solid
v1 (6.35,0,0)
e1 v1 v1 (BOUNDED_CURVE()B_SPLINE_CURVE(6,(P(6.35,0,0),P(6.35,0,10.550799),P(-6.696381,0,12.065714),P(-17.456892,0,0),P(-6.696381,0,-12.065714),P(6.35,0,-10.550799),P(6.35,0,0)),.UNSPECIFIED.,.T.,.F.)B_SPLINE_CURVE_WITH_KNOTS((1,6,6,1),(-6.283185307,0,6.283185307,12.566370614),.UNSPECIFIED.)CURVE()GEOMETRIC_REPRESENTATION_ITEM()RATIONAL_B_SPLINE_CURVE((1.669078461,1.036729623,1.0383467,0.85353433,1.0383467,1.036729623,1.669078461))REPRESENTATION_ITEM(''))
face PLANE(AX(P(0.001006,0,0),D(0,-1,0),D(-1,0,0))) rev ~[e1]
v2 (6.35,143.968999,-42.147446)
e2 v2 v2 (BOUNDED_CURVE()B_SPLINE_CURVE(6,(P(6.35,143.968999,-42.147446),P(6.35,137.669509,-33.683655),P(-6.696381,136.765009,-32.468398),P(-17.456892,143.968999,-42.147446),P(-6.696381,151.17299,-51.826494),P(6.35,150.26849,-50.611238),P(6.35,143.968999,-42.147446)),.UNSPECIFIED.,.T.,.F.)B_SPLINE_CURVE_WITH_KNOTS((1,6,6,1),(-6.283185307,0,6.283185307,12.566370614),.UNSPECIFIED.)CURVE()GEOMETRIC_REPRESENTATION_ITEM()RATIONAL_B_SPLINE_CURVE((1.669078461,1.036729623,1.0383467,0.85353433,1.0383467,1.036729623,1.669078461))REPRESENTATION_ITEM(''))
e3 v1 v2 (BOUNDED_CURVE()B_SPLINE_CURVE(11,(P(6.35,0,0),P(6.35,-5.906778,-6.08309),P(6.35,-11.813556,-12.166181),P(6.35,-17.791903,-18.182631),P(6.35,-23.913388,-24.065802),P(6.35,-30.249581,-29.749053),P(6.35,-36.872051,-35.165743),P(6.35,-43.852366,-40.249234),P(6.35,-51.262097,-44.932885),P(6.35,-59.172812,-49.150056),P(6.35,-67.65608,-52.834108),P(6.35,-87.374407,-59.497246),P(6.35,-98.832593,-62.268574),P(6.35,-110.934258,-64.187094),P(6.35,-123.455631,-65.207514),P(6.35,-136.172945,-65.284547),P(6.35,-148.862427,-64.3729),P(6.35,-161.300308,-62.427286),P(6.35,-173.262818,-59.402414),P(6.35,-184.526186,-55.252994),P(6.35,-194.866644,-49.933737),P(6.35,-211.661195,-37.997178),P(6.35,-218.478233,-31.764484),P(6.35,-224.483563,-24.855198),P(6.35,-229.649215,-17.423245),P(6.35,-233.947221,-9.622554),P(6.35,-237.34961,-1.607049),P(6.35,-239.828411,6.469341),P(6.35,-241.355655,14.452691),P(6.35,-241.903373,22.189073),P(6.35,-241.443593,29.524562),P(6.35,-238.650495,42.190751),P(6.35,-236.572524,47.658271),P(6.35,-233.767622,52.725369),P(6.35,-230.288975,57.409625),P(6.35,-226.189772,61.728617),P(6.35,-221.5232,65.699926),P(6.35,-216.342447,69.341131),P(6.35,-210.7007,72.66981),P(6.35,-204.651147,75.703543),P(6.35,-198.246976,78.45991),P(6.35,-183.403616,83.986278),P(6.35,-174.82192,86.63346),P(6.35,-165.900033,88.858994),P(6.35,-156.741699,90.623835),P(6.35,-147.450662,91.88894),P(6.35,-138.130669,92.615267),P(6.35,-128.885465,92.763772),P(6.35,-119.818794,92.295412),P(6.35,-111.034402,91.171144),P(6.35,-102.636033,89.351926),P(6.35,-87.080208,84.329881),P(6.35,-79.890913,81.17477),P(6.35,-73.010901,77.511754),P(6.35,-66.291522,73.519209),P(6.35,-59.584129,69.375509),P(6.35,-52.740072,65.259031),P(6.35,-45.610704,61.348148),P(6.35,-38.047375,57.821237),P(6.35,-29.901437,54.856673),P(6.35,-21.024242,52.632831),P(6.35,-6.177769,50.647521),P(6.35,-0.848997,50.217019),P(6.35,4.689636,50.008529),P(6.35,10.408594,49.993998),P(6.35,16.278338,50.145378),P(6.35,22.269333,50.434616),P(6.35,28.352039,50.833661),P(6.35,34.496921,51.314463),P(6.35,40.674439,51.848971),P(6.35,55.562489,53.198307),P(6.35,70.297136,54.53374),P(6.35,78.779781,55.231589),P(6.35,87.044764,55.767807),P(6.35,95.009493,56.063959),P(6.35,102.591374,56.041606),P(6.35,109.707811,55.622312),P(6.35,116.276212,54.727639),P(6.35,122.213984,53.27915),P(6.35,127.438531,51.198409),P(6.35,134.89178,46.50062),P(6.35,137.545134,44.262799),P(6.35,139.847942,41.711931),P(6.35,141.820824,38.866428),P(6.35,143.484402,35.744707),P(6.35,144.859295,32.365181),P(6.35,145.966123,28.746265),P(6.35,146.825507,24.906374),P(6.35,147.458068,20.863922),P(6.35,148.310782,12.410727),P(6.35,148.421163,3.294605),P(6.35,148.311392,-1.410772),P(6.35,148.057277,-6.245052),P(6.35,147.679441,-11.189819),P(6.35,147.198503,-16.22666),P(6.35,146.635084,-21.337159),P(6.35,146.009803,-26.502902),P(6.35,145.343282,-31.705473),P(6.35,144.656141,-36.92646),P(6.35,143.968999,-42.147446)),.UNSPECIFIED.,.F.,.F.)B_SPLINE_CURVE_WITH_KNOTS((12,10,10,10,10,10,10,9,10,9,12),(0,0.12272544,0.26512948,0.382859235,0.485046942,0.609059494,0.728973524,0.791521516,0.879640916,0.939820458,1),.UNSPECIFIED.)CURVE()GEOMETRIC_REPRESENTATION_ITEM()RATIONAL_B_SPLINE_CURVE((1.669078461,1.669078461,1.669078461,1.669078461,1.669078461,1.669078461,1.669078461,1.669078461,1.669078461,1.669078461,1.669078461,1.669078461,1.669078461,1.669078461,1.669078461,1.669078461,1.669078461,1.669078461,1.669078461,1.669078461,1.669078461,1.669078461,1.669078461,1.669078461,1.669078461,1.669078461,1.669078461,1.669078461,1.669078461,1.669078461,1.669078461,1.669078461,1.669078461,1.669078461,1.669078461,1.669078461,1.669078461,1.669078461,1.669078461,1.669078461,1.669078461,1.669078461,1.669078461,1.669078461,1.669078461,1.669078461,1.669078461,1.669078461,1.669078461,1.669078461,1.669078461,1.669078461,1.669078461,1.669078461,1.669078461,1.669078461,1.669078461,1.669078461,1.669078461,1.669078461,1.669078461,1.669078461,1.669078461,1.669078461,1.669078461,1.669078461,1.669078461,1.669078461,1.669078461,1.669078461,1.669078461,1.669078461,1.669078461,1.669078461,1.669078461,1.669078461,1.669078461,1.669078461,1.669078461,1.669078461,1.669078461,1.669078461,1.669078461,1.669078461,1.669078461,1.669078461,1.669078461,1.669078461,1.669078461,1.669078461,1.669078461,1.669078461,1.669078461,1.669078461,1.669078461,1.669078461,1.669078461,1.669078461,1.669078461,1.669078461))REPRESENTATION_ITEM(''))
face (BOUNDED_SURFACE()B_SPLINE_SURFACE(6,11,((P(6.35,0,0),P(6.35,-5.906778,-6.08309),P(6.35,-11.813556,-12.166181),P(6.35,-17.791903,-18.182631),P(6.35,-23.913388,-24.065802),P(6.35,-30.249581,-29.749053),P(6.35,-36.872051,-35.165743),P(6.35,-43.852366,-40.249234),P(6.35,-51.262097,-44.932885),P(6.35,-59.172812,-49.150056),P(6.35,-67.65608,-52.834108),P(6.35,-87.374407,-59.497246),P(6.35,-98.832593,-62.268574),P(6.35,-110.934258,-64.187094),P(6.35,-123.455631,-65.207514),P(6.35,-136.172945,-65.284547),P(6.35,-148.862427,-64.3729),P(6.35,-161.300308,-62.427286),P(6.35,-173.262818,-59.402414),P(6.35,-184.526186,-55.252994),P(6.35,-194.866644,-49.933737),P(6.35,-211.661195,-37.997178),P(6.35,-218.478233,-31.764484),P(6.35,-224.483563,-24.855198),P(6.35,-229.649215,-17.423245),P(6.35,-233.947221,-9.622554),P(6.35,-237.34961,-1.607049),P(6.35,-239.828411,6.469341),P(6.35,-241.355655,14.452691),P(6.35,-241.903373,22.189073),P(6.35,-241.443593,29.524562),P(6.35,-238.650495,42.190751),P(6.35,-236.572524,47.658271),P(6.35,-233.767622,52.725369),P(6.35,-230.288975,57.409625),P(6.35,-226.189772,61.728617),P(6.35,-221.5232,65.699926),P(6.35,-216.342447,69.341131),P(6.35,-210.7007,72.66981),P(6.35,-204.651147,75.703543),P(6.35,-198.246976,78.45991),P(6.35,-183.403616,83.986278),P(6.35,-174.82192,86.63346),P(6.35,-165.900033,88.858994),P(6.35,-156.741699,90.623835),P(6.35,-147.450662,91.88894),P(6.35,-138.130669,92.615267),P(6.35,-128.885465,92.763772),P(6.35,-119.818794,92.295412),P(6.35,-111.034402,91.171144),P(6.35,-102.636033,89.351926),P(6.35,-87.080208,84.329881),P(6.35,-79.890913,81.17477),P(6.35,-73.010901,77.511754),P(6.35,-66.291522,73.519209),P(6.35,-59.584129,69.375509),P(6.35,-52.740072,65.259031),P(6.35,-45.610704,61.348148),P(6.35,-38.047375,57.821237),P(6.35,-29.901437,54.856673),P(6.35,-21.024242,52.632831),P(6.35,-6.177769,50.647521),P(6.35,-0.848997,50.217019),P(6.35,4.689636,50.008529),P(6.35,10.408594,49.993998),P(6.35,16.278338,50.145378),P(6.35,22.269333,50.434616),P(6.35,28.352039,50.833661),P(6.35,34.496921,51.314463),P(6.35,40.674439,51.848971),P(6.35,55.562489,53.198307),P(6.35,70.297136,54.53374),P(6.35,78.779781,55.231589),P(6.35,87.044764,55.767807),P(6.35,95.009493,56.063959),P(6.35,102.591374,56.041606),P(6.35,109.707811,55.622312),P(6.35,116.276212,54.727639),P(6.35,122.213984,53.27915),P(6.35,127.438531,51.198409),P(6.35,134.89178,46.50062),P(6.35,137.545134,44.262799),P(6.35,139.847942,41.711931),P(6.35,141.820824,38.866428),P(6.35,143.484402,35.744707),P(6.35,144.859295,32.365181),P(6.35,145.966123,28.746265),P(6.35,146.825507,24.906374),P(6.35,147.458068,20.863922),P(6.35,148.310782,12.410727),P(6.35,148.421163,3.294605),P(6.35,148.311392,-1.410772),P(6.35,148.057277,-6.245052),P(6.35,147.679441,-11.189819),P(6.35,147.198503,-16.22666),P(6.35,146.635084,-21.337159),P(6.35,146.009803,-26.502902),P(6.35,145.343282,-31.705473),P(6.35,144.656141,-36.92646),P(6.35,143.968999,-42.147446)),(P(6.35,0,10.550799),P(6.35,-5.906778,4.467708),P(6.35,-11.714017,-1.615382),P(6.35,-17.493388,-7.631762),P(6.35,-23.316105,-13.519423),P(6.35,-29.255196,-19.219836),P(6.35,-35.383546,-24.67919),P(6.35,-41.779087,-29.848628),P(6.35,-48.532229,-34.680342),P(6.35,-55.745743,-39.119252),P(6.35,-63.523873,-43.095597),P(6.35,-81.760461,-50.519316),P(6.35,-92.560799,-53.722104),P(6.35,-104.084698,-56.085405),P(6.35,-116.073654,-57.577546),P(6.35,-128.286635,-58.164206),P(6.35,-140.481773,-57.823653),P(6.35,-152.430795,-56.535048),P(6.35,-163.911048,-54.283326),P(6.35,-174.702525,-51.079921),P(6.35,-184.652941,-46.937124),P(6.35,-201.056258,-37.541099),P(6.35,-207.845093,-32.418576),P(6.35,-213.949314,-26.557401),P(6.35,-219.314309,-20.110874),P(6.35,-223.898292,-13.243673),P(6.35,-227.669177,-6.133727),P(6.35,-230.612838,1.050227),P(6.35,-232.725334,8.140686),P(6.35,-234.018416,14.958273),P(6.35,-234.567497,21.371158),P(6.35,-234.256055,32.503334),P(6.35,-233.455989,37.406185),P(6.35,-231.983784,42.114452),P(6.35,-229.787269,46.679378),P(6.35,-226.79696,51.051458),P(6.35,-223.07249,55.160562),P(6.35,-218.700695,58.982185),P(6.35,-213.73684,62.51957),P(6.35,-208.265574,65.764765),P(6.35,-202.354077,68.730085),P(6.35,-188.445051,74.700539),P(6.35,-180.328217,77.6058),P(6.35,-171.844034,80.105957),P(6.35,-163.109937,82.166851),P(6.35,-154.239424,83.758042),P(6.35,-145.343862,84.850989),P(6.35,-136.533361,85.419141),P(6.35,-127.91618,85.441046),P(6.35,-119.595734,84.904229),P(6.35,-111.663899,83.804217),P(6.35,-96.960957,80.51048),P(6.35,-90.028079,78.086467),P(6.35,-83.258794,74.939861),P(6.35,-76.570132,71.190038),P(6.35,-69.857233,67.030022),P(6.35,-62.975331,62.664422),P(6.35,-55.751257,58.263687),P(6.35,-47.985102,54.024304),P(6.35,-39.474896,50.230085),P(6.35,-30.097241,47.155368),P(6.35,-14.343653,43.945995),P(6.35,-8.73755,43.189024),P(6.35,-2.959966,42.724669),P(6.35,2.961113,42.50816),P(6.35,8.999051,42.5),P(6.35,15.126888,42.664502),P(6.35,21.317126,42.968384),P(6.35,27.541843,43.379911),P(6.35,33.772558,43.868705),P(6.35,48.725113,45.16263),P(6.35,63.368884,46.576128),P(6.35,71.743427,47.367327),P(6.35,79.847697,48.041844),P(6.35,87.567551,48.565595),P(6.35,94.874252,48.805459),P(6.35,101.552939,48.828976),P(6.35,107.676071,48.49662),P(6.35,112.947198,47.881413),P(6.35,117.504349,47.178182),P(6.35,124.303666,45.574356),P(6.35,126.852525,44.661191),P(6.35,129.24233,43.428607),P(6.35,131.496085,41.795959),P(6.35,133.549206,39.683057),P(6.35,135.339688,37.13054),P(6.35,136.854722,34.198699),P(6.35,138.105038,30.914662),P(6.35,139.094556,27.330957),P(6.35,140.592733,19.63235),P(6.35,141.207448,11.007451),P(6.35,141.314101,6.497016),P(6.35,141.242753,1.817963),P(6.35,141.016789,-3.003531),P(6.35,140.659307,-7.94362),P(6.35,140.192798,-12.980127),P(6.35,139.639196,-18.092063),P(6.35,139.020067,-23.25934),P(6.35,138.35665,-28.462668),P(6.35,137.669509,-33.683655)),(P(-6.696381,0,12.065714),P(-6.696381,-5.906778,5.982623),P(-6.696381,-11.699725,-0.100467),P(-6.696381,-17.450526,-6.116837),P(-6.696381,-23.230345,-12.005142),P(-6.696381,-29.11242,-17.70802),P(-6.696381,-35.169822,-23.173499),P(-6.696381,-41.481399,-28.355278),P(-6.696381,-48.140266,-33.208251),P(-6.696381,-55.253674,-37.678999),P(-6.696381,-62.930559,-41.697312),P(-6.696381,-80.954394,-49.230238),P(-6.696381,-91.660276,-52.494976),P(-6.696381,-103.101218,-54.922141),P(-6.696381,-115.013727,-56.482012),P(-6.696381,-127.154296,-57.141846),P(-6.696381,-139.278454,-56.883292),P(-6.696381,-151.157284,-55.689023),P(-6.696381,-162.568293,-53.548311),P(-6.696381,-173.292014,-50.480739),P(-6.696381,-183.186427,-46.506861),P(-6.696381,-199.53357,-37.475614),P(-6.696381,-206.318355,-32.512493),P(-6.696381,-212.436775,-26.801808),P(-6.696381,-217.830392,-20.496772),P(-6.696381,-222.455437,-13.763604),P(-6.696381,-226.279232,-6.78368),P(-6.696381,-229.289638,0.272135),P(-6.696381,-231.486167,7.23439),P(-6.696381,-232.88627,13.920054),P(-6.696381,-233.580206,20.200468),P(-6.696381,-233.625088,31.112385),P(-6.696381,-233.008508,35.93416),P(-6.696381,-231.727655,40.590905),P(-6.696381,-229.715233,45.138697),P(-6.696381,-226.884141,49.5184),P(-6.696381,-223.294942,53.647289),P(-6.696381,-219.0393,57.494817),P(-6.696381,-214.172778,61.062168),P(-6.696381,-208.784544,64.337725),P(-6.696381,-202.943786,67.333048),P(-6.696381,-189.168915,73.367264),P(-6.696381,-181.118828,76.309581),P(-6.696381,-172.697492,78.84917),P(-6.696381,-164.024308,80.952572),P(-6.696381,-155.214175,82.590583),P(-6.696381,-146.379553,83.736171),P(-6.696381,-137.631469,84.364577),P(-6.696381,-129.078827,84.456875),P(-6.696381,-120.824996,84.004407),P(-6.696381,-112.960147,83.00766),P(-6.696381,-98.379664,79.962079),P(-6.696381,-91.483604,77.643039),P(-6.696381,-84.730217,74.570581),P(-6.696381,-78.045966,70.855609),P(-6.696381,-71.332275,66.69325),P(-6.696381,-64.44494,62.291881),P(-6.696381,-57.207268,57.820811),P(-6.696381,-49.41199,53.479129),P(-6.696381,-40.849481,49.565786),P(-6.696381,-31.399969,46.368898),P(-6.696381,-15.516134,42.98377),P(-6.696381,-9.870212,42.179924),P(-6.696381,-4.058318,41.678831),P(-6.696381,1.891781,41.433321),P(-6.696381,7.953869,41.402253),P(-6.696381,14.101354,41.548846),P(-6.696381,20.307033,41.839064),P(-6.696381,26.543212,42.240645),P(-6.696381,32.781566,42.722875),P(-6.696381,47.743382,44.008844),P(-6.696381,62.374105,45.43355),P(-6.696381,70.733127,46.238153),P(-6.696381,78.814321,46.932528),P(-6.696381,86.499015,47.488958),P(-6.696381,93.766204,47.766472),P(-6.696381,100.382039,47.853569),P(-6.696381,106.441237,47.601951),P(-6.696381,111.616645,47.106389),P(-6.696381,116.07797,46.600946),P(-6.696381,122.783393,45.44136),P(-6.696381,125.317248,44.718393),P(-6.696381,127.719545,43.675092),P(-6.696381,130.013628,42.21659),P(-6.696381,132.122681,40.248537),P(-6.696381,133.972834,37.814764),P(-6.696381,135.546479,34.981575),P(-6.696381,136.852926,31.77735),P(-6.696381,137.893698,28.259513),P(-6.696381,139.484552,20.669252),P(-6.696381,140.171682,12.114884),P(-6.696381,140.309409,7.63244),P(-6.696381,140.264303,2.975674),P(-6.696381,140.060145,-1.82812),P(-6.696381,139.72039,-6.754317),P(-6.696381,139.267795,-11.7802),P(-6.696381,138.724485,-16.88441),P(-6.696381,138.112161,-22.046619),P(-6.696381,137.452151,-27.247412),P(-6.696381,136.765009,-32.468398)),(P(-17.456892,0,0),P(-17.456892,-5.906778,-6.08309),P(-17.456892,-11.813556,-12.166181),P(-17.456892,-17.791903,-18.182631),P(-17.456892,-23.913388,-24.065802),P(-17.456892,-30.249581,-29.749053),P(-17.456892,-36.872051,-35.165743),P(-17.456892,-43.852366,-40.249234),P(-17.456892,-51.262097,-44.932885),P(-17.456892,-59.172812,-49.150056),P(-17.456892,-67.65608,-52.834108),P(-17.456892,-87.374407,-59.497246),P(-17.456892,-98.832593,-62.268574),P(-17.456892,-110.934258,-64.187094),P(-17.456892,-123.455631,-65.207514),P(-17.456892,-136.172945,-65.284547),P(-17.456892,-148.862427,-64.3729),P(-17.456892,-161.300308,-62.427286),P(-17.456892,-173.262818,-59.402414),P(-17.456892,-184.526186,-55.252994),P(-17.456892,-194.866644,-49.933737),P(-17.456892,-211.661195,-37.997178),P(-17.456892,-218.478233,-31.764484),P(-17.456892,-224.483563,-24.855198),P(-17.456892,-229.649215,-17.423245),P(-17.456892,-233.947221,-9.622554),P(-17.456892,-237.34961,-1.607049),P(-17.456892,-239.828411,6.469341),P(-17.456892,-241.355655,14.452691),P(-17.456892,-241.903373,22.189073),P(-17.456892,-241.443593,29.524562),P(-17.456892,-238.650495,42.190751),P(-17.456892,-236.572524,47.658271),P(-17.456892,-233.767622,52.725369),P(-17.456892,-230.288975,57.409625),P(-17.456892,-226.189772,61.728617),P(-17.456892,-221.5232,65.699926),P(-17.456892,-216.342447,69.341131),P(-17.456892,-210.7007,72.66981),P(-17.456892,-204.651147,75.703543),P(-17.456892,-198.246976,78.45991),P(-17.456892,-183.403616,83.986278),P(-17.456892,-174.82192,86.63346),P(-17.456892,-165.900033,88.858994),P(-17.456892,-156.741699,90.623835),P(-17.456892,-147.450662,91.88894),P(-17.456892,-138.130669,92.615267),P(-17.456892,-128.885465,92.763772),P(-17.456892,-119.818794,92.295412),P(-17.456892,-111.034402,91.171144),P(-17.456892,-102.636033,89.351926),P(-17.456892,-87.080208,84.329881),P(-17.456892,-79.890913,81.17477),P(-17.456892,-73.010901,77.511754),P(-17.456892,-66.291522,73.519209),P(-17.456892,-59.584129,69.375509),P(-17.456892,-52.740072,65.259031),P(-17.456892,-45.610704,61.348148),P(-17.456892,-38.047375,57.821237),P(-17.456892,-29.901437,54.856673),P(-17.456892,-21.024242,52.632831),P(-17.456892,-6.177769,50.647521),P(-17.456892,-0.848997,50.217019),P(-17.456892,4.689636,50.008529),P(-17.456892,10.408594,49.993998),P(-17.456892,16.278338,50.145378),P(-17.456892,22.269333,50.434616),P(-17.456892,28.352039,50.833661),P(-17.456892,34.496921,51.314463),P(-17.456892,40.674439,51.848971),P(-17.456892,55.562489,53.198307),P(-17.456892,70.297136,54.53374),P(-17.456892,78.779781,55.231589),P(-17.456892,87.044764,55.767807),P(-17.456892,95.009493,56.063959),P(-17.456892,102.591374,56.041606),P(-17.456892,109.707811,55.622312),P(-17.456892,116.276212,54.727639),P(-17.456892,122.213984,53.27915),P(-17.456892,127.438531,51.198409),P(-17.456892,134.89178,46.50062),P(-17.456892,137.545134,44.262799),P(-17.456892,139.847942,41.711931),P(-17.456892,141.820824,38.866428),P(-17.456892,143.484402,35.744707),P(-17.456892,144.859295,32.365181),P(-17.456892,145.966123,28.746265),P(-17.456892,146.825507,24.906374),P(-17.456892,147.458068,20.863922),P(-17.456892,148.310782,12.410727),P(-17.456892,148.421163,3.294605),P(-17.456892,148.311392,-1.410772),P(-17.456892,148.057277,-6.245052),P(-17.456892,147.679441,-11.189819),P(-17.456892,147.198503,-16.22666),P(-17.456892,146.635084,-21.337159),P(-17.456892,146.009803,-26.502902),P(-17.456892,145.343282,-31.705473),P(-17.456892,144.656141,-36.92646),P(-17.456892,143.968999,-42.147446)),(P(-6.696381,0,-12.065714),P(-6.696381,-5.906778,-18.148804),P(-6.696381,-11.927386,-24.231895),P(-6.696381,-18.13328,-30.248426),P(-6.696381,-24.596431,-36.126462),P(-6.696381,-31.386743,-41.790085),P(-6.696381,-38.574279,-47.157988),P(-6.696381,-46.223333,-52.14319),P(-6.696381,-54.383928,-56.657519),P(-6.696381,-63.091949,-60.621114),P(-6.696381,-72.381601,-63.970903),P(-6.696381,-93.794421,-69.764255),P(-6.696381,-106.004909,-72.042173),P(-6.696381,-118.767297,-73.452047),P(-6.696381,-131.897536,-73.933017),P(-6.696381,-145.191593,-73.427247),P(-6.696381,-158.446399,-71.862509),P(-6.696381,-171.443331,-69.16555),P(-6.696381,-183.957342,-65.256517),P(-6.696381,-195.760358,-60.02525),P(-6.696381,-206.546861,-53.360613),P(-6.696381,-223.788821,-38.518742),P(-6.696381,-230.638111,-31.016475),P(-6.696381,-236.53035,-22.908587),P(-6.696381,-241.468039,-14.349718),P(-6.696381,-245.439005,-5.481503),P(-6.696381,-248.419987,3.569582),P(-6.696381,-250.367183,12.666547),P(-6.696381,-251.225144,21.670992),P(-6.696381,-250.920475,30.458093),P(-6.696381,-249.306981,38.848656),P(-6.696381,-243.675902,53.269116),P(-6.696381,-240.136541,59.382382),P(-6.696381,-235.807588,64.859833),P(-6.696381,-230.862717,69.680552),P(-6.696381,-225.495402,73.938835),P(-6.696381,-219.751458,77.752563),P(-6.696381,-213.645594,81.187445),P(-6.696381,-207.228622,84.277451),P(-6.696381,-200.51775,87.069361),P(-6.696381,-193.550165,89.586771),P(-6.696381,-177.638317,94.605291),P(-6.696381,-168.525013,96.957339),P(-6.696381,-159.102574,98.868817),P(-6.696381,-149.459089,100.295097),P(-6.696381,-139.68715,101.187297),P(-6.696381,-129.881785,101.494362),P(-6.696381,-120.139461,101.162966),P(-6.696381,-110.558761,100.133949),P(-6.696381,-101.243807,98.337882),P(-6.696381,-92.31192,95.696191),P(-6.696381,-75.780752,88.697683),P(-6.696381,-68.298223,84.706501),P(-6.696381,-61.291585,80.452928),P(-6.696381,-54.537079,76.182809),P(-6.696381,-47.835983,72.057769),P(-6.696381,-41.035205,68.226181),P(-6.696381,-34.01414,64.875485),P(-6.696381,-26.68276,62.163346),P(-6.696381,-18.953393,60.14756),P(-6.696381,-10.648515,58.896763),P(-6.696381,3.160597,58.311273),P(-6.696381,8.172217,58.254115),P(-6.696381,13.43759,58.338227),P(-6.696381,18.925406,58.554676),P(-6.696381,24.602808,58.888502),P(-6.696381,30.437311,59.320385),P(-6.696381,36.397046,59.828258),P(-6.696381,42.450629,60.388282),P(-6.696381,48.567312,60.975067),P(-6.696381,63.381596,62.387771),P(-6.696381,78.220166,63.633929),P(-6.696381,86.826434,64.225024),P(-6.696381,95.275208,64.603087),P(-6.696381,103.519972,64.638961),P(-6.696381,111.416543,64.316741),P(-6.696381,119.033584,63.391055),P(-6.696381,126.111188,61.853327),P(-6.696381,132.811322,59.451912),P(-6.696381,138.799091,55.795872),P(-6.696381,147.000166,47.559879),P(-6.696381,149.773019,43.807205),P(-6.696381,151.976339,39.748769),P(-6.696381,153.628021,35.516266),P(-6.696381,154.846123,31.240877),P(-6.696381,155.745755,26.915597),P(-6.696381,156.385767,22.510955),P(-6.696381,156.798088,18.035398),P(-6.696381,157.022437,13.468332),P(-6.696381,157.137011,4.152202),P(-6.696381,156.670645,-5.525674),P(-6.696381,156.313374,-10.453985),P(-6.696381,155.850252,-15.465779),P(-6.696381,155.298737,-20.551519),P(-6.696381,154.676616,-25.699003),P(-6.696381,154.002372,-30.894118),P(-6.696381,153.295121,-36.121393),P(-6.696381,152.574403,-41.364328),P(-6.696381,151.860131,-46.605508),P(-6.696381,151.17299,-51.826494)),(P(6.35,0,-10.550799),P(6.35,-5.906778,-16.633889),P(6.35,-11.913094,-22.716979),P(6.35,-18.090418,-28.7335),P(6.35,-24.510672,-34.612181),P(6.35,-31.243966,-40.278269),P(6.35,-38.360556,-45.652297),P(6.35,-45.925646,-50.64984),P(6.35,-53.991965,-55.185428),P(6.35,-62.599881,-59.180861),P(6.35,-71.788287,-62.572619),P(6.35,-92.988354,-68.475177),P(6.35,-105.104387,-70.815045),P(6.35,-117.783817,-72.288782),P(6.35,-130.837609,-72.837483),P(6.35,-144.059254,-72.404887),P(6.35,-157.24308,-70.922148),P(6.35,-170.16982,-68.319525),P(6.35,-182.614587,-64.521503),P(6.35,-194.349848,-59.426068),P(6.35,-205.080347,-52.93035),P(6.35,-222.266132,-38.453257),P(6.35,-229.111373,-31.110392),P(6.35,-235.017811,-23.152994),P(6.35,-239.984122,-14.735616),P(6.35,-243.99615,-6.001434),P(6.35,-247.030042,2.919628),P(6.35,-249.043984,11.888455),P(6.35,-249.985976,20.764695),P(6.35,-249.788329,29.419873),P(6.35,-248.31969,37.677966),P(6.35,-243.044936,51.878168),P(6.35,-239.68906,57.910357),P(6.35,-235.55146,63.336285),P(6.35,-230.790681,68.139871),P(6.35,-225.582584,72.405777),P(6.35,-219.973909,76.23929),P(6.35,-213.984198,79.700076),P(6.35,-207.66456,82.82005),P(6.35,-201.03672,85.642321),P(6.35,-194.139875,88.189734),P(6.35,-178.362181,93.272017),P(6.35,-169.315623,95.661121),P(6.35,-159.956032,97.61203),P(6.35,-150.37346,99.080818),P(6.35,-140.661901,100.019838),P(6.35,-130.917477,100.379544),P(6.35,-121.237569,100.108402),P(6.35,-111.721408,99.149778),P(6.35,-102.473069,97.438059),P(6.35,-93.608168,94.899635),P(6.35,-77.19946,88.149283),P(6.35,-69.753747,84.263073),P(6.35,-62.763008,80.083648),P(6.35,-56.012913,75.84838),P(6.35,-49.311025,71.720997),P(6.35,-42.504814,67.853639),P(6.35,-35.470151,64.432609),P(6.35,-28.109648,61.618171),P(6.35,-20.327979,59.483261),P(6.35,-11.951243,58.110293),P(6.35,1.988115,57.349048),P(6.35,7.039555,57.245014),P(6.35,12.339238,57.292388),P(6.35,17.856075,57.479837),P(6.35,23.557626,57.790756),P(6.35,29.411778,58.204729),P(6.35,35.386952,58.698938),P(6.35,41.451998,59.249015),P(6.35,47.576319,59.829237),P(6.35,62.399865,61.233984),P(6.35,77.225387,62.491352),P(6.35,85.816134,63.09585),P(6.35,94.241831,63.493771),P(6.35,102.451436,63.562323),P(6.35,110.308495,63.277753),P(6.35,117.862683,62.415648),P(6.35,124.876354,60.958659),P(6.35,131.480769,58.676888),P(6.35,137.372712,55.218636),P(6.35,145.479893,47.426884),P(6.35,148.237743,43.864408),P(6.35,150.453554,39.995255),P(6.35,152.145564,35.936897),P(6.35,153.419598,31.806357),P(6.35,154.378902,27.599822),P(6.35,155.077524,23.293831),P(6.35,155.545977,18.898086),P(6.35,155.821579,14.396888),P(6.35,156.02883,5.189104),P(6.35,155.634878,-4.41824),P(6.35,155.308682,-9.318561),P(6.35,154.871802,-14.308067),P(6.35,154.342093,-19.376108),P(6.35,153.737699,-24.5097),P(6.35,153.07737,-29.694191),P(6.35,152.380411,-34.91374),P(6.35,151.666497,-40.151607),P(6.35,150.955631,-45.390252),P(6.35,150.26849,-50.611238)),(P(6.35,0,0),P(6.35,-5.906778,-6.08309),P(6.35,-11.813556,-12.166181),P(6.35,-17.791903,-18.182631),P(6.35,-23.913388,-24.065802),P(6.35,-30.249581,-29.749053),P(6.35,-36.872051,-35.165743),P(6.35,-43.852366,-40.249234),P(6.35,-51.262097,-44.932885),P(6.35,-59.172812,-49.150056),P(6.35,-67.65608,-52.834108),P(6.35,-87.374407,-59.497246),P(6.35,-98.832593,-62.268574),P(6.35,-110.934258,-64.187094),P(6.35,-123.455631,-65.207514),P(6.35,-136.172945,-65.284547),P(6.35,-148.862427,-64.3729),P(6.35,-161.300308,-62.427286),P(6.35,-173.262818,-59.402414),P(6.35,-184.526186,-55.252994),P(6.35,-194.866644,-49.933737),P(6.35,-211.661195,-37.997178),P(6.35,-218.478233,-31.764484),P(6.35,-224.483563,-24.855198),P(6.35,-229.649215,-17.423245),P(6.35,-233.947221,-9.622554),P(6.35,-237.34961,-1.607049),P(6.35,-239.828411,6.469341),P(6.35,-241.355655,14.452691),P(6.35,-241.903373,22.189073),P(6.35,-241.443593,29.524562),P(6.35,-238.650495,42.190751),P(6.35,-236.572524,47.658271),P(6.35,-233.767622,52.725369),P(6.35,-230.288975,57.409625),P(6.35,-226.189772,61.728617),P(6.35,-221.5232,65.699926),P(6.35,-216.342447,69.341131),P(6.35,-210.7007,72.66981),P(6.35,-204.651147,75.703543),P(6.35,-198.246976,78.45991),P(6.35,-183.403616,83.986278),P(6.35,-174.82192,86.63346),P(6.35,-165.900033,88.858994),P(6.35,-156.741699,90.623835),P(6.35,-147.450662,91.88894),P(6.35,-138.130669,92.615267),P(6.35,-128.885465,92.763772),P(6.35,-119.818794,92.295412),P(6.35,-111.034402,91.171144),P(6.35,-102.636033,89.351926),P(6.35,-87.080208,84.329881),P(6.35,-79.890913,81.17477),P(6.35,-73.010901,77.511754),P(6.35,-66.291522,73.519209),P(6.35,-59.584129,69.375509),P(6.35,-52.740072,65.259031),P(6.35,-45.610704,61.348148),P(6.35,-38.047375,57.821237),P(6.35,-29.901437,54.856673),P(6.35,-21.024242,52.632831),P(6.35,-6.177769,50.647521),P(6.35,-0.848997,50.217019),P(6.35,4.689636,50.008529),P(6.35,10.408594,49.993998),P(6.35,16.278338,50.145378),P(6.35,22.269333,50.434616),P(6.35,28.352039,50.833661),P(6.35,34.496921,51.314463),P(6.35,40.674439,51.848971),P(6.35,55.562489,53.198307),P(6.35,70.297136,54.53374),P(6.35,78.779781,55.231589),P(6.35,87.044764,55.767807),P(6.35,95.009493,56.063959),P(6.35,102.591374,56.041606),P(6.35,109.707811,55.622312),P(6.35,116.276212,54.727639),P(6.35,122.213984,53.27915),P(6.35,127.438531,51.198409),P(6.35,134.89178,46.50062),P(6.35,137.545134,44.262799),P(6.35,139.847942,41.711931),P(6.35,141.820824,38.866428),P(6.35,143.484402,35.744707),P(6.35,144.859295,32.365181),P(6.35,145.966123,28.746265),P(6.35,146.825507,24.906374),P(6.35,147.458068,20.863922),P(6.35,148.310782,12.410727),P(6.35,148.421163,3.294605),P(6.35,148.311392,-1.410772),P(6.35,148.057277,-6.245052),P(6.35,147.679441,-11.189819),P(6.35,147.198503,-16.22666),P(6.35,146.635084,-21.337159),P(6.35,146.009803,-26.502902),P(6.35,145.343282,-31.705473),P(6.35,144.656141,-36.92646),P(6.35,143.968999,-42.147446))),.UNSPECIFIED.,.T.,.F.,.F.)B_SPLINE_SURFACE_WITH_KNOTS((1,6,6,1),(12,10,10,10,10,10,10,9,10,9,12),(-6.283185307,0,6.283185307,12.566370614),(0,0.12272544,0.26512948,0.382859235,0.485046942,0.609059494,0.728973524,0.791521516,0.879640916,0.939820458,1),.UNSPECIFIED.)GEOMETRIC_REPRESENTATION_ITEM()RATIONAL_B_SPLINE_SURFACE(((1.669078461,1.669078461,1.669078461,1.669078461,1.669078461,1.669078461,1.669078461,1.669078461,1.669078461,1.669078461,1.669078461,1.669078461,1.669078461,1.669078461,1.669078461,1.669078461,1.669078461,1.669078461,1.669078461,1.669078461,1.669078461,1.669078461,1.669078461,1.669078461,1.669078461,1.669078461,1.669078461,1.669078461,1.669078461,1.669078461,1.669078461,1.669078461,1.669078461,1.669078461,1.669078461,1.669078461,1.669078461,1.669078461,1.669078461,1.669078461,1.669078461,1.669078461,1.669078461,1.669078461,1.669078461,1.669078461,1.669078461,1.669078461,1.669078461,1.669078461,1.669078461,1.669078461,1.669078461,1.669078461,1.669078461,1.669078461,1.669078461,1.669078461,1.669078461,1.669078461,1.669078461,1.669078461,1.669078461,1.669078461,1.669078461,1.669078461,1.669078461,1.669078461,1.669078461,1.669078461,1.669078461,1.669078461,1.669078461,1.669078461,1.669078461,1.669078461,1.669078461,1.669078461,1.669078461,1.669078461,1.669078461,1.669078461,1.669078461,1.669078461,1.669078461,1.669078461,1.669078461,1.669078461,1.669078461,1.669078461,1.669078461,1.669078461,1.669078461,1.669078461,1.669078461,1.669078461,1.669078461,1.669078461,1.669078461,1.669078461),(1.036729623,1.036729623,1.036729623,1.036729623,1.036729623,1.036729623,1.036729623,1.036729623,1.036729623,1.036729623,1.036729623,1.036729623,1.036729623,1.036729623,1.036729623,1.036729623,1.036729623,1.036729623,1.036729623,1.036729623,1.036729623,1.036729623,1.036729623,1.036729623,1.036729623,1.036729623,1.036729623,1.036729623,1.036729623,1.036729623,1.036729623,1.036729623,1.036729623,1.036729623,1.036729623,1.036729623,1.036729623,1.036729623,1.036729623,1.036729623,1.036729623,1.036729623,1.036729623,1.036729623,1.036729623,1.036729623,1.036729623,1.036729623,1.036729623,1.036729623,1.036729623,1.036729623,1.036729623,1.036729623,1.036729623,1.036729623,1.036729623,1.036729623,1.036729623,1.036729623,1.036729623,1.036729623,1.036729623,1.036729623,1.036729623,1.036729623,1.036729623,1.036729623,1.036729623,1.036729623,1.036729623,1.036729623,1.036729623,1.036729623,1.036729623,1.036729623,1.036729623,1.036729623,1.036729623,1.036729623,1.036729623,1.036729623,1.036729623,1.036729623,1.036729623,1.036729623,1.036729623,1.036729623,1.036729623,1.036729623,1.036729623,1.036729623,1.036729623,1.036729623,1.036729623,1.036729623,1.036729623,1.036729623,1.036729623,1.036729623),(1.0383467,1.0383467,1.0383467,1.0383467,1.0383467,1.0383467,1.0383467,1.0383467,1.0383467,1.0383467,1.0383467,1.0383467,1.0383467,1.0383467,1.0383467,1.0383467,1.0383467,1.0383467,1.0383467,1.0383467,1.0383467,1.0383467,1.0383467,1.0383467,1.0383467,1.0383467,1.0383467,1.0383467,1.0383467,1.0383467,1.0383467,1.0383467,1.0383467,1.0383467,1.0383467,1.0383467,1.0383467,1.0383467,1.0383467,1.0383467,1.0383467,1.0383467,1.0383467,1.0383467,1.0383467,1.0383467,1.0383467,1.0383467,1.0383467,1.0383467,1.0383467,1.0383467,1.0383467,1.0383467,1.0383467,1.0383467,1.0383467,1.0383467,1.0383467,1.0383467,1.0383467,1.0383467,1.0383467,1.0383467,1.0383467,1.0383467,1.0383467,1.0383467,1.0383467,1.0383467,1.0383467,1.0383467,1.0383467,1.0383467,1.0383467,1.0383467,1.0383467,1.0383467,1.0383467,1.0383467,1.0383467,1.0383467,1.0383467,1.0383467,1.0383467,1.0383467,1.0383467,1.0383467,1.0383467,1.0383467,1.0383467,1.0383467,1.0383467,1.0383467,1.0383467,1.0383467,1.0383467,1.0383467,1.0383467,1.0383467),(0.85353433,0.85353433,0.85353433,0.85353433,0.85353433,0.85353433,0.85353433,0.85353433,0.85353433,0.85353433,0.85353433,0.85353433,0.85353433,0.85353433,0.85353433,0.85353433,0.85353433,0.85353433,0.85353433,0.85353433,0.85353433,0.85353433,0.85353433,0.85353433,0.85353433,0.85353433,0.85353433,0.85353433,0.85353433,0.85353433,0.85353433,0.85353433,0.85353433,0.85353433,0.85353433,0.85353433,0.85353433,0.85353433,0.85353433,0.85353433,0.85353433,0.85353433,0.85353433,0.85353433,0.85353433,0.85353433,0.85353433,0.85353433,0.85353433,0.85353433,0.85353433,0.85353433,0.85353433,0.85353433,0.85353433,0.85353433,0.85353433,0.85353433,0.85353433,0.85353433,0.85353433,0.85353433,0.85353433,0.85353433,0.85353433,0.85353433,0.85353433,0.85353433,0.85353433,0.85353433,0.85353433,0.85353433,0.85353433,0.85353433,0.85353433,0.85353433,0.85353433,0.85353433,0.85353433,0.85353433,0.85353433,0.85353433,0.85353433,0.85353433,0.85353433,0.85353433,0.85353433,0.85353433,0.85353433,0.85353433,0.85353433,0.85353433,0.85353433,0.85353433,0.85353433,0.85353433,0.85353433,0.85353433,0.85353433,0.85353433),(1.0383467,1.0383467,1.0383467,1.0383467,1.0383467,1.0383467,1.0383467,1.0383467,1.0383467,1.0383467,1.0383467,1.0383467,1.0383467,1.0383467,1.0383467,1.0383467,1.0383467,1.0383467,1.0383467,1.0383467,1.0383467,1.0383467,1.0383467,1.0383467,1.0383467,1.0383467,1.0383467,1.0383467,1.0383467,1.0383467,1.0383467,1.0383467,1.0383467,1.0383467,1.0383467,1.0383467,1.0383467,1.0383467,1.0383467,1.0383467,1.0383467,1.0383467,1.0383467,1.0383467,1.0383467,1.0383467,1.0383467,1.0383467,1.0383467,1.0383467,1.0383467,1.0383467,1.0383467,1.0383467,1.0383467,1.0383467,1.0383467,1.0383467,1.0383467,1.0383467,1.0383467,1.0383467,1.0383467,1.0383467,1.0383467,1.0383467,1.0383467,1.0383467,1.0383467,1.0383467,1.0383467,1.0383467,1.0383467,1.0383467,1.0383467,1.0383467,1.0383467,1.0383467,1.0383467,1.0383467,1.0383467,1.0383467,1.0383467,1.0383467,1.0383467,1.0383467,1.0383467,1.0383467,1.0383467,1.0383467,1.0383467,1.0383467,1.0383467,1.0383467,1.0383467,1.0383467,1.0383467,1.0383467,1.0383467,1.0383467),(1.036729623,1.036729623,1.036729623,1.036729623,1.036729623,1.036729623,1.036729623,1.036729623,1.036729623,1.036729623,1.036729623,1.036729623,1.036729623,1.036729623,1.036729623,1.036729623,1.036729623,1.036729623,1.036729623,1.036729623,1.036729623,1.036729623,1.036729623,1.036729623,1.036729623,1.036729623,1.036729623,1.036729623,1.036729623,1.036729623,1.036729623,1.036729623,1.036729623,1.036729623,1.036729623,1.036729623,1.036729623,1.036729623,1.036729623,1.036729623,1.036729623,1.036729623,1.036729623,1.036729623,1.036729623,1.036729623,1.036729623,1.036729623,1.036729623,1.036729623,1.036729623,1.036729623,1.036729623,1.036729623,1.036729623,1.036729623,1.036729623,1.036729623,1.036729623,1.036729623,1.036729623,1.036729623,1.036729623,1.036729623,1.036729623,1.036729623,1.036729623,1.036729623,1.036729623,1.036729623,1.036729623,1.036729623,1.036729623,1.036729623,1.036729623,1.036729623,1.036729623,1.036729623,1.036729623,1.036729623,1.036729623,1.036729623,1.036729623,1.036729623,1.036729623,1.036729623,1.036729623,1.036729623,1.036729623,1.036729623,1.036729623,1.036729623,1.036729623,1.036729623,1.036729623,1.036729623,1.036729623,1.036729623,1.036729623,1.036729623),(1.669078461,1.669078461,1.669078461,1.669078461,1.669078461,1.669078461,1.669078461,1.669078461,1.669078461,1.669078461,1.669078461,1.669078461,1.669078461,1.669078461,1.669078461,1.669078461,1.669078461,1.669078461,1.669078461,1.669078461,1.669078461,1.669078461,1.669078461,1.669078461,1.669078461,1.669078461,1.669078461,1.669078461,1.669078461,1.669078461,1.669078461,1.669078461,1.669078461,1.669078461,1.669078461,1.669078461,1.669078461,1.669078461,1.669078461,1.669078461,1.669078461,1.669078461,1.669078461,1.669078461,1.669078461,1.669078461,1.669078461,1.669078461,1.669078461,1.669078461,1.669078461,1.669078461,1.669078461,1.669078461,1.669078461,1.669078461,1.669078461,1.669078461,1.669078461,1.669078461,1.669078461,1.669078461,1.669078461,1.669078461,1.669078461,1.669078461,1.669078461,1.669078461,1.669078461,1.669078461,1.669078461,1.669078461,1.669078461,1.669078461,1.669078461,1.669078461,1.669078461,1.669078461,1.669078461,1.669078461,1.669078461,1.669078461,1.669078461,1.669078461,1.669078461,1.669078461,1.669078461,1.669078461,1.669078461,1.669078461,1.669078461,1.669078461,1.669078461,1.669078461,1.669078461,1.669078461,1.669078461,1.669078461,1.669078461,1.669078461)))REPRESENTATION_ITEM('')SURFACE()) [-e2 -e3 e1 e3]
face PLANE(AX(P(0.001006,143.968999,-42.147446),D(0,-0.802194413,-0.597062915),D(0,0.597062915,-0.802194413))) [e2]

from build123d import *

# Parameters (mm, degrees)
F1_R = 6.35


with BuildPart() as f2:
    # F2: sweep along a path in F0
    with BuildLine(Plane.YZ) as f2_path:
        add(Plane.YZ * Edge.make_bspline(
            [(0, 0), (-21.6581856049, -22.3046649965), (-68.4473718807, -70.4904707876), (-215.5993473977, -65.9681396934), (-257.1495769359, 41.8519177743), (-192.9966373173, 88.6915713212), (-87.0034565279, 100.119943257), (-22.3607082349, 28.9296311238), (160.3550191374, 82.355583846), (149.0080364083, -3.8602120345), (143.9689993858, -42.1474464238)],
            knots=[0, 0, 0, 0, 0.1227254402, 0.2651294797, 0.3828592351, 0.4850469417, 0.6090594945, 0.7289735245, 0.8796409163, 1, 1, 1, 1], degree=3))
    # F1 (on Front) → F2 (sweep)
    with BuildSketch(Plane.XZ):
        Circle(F1_R)
    sweep(path=f2_path.line)


solid = f2.part
